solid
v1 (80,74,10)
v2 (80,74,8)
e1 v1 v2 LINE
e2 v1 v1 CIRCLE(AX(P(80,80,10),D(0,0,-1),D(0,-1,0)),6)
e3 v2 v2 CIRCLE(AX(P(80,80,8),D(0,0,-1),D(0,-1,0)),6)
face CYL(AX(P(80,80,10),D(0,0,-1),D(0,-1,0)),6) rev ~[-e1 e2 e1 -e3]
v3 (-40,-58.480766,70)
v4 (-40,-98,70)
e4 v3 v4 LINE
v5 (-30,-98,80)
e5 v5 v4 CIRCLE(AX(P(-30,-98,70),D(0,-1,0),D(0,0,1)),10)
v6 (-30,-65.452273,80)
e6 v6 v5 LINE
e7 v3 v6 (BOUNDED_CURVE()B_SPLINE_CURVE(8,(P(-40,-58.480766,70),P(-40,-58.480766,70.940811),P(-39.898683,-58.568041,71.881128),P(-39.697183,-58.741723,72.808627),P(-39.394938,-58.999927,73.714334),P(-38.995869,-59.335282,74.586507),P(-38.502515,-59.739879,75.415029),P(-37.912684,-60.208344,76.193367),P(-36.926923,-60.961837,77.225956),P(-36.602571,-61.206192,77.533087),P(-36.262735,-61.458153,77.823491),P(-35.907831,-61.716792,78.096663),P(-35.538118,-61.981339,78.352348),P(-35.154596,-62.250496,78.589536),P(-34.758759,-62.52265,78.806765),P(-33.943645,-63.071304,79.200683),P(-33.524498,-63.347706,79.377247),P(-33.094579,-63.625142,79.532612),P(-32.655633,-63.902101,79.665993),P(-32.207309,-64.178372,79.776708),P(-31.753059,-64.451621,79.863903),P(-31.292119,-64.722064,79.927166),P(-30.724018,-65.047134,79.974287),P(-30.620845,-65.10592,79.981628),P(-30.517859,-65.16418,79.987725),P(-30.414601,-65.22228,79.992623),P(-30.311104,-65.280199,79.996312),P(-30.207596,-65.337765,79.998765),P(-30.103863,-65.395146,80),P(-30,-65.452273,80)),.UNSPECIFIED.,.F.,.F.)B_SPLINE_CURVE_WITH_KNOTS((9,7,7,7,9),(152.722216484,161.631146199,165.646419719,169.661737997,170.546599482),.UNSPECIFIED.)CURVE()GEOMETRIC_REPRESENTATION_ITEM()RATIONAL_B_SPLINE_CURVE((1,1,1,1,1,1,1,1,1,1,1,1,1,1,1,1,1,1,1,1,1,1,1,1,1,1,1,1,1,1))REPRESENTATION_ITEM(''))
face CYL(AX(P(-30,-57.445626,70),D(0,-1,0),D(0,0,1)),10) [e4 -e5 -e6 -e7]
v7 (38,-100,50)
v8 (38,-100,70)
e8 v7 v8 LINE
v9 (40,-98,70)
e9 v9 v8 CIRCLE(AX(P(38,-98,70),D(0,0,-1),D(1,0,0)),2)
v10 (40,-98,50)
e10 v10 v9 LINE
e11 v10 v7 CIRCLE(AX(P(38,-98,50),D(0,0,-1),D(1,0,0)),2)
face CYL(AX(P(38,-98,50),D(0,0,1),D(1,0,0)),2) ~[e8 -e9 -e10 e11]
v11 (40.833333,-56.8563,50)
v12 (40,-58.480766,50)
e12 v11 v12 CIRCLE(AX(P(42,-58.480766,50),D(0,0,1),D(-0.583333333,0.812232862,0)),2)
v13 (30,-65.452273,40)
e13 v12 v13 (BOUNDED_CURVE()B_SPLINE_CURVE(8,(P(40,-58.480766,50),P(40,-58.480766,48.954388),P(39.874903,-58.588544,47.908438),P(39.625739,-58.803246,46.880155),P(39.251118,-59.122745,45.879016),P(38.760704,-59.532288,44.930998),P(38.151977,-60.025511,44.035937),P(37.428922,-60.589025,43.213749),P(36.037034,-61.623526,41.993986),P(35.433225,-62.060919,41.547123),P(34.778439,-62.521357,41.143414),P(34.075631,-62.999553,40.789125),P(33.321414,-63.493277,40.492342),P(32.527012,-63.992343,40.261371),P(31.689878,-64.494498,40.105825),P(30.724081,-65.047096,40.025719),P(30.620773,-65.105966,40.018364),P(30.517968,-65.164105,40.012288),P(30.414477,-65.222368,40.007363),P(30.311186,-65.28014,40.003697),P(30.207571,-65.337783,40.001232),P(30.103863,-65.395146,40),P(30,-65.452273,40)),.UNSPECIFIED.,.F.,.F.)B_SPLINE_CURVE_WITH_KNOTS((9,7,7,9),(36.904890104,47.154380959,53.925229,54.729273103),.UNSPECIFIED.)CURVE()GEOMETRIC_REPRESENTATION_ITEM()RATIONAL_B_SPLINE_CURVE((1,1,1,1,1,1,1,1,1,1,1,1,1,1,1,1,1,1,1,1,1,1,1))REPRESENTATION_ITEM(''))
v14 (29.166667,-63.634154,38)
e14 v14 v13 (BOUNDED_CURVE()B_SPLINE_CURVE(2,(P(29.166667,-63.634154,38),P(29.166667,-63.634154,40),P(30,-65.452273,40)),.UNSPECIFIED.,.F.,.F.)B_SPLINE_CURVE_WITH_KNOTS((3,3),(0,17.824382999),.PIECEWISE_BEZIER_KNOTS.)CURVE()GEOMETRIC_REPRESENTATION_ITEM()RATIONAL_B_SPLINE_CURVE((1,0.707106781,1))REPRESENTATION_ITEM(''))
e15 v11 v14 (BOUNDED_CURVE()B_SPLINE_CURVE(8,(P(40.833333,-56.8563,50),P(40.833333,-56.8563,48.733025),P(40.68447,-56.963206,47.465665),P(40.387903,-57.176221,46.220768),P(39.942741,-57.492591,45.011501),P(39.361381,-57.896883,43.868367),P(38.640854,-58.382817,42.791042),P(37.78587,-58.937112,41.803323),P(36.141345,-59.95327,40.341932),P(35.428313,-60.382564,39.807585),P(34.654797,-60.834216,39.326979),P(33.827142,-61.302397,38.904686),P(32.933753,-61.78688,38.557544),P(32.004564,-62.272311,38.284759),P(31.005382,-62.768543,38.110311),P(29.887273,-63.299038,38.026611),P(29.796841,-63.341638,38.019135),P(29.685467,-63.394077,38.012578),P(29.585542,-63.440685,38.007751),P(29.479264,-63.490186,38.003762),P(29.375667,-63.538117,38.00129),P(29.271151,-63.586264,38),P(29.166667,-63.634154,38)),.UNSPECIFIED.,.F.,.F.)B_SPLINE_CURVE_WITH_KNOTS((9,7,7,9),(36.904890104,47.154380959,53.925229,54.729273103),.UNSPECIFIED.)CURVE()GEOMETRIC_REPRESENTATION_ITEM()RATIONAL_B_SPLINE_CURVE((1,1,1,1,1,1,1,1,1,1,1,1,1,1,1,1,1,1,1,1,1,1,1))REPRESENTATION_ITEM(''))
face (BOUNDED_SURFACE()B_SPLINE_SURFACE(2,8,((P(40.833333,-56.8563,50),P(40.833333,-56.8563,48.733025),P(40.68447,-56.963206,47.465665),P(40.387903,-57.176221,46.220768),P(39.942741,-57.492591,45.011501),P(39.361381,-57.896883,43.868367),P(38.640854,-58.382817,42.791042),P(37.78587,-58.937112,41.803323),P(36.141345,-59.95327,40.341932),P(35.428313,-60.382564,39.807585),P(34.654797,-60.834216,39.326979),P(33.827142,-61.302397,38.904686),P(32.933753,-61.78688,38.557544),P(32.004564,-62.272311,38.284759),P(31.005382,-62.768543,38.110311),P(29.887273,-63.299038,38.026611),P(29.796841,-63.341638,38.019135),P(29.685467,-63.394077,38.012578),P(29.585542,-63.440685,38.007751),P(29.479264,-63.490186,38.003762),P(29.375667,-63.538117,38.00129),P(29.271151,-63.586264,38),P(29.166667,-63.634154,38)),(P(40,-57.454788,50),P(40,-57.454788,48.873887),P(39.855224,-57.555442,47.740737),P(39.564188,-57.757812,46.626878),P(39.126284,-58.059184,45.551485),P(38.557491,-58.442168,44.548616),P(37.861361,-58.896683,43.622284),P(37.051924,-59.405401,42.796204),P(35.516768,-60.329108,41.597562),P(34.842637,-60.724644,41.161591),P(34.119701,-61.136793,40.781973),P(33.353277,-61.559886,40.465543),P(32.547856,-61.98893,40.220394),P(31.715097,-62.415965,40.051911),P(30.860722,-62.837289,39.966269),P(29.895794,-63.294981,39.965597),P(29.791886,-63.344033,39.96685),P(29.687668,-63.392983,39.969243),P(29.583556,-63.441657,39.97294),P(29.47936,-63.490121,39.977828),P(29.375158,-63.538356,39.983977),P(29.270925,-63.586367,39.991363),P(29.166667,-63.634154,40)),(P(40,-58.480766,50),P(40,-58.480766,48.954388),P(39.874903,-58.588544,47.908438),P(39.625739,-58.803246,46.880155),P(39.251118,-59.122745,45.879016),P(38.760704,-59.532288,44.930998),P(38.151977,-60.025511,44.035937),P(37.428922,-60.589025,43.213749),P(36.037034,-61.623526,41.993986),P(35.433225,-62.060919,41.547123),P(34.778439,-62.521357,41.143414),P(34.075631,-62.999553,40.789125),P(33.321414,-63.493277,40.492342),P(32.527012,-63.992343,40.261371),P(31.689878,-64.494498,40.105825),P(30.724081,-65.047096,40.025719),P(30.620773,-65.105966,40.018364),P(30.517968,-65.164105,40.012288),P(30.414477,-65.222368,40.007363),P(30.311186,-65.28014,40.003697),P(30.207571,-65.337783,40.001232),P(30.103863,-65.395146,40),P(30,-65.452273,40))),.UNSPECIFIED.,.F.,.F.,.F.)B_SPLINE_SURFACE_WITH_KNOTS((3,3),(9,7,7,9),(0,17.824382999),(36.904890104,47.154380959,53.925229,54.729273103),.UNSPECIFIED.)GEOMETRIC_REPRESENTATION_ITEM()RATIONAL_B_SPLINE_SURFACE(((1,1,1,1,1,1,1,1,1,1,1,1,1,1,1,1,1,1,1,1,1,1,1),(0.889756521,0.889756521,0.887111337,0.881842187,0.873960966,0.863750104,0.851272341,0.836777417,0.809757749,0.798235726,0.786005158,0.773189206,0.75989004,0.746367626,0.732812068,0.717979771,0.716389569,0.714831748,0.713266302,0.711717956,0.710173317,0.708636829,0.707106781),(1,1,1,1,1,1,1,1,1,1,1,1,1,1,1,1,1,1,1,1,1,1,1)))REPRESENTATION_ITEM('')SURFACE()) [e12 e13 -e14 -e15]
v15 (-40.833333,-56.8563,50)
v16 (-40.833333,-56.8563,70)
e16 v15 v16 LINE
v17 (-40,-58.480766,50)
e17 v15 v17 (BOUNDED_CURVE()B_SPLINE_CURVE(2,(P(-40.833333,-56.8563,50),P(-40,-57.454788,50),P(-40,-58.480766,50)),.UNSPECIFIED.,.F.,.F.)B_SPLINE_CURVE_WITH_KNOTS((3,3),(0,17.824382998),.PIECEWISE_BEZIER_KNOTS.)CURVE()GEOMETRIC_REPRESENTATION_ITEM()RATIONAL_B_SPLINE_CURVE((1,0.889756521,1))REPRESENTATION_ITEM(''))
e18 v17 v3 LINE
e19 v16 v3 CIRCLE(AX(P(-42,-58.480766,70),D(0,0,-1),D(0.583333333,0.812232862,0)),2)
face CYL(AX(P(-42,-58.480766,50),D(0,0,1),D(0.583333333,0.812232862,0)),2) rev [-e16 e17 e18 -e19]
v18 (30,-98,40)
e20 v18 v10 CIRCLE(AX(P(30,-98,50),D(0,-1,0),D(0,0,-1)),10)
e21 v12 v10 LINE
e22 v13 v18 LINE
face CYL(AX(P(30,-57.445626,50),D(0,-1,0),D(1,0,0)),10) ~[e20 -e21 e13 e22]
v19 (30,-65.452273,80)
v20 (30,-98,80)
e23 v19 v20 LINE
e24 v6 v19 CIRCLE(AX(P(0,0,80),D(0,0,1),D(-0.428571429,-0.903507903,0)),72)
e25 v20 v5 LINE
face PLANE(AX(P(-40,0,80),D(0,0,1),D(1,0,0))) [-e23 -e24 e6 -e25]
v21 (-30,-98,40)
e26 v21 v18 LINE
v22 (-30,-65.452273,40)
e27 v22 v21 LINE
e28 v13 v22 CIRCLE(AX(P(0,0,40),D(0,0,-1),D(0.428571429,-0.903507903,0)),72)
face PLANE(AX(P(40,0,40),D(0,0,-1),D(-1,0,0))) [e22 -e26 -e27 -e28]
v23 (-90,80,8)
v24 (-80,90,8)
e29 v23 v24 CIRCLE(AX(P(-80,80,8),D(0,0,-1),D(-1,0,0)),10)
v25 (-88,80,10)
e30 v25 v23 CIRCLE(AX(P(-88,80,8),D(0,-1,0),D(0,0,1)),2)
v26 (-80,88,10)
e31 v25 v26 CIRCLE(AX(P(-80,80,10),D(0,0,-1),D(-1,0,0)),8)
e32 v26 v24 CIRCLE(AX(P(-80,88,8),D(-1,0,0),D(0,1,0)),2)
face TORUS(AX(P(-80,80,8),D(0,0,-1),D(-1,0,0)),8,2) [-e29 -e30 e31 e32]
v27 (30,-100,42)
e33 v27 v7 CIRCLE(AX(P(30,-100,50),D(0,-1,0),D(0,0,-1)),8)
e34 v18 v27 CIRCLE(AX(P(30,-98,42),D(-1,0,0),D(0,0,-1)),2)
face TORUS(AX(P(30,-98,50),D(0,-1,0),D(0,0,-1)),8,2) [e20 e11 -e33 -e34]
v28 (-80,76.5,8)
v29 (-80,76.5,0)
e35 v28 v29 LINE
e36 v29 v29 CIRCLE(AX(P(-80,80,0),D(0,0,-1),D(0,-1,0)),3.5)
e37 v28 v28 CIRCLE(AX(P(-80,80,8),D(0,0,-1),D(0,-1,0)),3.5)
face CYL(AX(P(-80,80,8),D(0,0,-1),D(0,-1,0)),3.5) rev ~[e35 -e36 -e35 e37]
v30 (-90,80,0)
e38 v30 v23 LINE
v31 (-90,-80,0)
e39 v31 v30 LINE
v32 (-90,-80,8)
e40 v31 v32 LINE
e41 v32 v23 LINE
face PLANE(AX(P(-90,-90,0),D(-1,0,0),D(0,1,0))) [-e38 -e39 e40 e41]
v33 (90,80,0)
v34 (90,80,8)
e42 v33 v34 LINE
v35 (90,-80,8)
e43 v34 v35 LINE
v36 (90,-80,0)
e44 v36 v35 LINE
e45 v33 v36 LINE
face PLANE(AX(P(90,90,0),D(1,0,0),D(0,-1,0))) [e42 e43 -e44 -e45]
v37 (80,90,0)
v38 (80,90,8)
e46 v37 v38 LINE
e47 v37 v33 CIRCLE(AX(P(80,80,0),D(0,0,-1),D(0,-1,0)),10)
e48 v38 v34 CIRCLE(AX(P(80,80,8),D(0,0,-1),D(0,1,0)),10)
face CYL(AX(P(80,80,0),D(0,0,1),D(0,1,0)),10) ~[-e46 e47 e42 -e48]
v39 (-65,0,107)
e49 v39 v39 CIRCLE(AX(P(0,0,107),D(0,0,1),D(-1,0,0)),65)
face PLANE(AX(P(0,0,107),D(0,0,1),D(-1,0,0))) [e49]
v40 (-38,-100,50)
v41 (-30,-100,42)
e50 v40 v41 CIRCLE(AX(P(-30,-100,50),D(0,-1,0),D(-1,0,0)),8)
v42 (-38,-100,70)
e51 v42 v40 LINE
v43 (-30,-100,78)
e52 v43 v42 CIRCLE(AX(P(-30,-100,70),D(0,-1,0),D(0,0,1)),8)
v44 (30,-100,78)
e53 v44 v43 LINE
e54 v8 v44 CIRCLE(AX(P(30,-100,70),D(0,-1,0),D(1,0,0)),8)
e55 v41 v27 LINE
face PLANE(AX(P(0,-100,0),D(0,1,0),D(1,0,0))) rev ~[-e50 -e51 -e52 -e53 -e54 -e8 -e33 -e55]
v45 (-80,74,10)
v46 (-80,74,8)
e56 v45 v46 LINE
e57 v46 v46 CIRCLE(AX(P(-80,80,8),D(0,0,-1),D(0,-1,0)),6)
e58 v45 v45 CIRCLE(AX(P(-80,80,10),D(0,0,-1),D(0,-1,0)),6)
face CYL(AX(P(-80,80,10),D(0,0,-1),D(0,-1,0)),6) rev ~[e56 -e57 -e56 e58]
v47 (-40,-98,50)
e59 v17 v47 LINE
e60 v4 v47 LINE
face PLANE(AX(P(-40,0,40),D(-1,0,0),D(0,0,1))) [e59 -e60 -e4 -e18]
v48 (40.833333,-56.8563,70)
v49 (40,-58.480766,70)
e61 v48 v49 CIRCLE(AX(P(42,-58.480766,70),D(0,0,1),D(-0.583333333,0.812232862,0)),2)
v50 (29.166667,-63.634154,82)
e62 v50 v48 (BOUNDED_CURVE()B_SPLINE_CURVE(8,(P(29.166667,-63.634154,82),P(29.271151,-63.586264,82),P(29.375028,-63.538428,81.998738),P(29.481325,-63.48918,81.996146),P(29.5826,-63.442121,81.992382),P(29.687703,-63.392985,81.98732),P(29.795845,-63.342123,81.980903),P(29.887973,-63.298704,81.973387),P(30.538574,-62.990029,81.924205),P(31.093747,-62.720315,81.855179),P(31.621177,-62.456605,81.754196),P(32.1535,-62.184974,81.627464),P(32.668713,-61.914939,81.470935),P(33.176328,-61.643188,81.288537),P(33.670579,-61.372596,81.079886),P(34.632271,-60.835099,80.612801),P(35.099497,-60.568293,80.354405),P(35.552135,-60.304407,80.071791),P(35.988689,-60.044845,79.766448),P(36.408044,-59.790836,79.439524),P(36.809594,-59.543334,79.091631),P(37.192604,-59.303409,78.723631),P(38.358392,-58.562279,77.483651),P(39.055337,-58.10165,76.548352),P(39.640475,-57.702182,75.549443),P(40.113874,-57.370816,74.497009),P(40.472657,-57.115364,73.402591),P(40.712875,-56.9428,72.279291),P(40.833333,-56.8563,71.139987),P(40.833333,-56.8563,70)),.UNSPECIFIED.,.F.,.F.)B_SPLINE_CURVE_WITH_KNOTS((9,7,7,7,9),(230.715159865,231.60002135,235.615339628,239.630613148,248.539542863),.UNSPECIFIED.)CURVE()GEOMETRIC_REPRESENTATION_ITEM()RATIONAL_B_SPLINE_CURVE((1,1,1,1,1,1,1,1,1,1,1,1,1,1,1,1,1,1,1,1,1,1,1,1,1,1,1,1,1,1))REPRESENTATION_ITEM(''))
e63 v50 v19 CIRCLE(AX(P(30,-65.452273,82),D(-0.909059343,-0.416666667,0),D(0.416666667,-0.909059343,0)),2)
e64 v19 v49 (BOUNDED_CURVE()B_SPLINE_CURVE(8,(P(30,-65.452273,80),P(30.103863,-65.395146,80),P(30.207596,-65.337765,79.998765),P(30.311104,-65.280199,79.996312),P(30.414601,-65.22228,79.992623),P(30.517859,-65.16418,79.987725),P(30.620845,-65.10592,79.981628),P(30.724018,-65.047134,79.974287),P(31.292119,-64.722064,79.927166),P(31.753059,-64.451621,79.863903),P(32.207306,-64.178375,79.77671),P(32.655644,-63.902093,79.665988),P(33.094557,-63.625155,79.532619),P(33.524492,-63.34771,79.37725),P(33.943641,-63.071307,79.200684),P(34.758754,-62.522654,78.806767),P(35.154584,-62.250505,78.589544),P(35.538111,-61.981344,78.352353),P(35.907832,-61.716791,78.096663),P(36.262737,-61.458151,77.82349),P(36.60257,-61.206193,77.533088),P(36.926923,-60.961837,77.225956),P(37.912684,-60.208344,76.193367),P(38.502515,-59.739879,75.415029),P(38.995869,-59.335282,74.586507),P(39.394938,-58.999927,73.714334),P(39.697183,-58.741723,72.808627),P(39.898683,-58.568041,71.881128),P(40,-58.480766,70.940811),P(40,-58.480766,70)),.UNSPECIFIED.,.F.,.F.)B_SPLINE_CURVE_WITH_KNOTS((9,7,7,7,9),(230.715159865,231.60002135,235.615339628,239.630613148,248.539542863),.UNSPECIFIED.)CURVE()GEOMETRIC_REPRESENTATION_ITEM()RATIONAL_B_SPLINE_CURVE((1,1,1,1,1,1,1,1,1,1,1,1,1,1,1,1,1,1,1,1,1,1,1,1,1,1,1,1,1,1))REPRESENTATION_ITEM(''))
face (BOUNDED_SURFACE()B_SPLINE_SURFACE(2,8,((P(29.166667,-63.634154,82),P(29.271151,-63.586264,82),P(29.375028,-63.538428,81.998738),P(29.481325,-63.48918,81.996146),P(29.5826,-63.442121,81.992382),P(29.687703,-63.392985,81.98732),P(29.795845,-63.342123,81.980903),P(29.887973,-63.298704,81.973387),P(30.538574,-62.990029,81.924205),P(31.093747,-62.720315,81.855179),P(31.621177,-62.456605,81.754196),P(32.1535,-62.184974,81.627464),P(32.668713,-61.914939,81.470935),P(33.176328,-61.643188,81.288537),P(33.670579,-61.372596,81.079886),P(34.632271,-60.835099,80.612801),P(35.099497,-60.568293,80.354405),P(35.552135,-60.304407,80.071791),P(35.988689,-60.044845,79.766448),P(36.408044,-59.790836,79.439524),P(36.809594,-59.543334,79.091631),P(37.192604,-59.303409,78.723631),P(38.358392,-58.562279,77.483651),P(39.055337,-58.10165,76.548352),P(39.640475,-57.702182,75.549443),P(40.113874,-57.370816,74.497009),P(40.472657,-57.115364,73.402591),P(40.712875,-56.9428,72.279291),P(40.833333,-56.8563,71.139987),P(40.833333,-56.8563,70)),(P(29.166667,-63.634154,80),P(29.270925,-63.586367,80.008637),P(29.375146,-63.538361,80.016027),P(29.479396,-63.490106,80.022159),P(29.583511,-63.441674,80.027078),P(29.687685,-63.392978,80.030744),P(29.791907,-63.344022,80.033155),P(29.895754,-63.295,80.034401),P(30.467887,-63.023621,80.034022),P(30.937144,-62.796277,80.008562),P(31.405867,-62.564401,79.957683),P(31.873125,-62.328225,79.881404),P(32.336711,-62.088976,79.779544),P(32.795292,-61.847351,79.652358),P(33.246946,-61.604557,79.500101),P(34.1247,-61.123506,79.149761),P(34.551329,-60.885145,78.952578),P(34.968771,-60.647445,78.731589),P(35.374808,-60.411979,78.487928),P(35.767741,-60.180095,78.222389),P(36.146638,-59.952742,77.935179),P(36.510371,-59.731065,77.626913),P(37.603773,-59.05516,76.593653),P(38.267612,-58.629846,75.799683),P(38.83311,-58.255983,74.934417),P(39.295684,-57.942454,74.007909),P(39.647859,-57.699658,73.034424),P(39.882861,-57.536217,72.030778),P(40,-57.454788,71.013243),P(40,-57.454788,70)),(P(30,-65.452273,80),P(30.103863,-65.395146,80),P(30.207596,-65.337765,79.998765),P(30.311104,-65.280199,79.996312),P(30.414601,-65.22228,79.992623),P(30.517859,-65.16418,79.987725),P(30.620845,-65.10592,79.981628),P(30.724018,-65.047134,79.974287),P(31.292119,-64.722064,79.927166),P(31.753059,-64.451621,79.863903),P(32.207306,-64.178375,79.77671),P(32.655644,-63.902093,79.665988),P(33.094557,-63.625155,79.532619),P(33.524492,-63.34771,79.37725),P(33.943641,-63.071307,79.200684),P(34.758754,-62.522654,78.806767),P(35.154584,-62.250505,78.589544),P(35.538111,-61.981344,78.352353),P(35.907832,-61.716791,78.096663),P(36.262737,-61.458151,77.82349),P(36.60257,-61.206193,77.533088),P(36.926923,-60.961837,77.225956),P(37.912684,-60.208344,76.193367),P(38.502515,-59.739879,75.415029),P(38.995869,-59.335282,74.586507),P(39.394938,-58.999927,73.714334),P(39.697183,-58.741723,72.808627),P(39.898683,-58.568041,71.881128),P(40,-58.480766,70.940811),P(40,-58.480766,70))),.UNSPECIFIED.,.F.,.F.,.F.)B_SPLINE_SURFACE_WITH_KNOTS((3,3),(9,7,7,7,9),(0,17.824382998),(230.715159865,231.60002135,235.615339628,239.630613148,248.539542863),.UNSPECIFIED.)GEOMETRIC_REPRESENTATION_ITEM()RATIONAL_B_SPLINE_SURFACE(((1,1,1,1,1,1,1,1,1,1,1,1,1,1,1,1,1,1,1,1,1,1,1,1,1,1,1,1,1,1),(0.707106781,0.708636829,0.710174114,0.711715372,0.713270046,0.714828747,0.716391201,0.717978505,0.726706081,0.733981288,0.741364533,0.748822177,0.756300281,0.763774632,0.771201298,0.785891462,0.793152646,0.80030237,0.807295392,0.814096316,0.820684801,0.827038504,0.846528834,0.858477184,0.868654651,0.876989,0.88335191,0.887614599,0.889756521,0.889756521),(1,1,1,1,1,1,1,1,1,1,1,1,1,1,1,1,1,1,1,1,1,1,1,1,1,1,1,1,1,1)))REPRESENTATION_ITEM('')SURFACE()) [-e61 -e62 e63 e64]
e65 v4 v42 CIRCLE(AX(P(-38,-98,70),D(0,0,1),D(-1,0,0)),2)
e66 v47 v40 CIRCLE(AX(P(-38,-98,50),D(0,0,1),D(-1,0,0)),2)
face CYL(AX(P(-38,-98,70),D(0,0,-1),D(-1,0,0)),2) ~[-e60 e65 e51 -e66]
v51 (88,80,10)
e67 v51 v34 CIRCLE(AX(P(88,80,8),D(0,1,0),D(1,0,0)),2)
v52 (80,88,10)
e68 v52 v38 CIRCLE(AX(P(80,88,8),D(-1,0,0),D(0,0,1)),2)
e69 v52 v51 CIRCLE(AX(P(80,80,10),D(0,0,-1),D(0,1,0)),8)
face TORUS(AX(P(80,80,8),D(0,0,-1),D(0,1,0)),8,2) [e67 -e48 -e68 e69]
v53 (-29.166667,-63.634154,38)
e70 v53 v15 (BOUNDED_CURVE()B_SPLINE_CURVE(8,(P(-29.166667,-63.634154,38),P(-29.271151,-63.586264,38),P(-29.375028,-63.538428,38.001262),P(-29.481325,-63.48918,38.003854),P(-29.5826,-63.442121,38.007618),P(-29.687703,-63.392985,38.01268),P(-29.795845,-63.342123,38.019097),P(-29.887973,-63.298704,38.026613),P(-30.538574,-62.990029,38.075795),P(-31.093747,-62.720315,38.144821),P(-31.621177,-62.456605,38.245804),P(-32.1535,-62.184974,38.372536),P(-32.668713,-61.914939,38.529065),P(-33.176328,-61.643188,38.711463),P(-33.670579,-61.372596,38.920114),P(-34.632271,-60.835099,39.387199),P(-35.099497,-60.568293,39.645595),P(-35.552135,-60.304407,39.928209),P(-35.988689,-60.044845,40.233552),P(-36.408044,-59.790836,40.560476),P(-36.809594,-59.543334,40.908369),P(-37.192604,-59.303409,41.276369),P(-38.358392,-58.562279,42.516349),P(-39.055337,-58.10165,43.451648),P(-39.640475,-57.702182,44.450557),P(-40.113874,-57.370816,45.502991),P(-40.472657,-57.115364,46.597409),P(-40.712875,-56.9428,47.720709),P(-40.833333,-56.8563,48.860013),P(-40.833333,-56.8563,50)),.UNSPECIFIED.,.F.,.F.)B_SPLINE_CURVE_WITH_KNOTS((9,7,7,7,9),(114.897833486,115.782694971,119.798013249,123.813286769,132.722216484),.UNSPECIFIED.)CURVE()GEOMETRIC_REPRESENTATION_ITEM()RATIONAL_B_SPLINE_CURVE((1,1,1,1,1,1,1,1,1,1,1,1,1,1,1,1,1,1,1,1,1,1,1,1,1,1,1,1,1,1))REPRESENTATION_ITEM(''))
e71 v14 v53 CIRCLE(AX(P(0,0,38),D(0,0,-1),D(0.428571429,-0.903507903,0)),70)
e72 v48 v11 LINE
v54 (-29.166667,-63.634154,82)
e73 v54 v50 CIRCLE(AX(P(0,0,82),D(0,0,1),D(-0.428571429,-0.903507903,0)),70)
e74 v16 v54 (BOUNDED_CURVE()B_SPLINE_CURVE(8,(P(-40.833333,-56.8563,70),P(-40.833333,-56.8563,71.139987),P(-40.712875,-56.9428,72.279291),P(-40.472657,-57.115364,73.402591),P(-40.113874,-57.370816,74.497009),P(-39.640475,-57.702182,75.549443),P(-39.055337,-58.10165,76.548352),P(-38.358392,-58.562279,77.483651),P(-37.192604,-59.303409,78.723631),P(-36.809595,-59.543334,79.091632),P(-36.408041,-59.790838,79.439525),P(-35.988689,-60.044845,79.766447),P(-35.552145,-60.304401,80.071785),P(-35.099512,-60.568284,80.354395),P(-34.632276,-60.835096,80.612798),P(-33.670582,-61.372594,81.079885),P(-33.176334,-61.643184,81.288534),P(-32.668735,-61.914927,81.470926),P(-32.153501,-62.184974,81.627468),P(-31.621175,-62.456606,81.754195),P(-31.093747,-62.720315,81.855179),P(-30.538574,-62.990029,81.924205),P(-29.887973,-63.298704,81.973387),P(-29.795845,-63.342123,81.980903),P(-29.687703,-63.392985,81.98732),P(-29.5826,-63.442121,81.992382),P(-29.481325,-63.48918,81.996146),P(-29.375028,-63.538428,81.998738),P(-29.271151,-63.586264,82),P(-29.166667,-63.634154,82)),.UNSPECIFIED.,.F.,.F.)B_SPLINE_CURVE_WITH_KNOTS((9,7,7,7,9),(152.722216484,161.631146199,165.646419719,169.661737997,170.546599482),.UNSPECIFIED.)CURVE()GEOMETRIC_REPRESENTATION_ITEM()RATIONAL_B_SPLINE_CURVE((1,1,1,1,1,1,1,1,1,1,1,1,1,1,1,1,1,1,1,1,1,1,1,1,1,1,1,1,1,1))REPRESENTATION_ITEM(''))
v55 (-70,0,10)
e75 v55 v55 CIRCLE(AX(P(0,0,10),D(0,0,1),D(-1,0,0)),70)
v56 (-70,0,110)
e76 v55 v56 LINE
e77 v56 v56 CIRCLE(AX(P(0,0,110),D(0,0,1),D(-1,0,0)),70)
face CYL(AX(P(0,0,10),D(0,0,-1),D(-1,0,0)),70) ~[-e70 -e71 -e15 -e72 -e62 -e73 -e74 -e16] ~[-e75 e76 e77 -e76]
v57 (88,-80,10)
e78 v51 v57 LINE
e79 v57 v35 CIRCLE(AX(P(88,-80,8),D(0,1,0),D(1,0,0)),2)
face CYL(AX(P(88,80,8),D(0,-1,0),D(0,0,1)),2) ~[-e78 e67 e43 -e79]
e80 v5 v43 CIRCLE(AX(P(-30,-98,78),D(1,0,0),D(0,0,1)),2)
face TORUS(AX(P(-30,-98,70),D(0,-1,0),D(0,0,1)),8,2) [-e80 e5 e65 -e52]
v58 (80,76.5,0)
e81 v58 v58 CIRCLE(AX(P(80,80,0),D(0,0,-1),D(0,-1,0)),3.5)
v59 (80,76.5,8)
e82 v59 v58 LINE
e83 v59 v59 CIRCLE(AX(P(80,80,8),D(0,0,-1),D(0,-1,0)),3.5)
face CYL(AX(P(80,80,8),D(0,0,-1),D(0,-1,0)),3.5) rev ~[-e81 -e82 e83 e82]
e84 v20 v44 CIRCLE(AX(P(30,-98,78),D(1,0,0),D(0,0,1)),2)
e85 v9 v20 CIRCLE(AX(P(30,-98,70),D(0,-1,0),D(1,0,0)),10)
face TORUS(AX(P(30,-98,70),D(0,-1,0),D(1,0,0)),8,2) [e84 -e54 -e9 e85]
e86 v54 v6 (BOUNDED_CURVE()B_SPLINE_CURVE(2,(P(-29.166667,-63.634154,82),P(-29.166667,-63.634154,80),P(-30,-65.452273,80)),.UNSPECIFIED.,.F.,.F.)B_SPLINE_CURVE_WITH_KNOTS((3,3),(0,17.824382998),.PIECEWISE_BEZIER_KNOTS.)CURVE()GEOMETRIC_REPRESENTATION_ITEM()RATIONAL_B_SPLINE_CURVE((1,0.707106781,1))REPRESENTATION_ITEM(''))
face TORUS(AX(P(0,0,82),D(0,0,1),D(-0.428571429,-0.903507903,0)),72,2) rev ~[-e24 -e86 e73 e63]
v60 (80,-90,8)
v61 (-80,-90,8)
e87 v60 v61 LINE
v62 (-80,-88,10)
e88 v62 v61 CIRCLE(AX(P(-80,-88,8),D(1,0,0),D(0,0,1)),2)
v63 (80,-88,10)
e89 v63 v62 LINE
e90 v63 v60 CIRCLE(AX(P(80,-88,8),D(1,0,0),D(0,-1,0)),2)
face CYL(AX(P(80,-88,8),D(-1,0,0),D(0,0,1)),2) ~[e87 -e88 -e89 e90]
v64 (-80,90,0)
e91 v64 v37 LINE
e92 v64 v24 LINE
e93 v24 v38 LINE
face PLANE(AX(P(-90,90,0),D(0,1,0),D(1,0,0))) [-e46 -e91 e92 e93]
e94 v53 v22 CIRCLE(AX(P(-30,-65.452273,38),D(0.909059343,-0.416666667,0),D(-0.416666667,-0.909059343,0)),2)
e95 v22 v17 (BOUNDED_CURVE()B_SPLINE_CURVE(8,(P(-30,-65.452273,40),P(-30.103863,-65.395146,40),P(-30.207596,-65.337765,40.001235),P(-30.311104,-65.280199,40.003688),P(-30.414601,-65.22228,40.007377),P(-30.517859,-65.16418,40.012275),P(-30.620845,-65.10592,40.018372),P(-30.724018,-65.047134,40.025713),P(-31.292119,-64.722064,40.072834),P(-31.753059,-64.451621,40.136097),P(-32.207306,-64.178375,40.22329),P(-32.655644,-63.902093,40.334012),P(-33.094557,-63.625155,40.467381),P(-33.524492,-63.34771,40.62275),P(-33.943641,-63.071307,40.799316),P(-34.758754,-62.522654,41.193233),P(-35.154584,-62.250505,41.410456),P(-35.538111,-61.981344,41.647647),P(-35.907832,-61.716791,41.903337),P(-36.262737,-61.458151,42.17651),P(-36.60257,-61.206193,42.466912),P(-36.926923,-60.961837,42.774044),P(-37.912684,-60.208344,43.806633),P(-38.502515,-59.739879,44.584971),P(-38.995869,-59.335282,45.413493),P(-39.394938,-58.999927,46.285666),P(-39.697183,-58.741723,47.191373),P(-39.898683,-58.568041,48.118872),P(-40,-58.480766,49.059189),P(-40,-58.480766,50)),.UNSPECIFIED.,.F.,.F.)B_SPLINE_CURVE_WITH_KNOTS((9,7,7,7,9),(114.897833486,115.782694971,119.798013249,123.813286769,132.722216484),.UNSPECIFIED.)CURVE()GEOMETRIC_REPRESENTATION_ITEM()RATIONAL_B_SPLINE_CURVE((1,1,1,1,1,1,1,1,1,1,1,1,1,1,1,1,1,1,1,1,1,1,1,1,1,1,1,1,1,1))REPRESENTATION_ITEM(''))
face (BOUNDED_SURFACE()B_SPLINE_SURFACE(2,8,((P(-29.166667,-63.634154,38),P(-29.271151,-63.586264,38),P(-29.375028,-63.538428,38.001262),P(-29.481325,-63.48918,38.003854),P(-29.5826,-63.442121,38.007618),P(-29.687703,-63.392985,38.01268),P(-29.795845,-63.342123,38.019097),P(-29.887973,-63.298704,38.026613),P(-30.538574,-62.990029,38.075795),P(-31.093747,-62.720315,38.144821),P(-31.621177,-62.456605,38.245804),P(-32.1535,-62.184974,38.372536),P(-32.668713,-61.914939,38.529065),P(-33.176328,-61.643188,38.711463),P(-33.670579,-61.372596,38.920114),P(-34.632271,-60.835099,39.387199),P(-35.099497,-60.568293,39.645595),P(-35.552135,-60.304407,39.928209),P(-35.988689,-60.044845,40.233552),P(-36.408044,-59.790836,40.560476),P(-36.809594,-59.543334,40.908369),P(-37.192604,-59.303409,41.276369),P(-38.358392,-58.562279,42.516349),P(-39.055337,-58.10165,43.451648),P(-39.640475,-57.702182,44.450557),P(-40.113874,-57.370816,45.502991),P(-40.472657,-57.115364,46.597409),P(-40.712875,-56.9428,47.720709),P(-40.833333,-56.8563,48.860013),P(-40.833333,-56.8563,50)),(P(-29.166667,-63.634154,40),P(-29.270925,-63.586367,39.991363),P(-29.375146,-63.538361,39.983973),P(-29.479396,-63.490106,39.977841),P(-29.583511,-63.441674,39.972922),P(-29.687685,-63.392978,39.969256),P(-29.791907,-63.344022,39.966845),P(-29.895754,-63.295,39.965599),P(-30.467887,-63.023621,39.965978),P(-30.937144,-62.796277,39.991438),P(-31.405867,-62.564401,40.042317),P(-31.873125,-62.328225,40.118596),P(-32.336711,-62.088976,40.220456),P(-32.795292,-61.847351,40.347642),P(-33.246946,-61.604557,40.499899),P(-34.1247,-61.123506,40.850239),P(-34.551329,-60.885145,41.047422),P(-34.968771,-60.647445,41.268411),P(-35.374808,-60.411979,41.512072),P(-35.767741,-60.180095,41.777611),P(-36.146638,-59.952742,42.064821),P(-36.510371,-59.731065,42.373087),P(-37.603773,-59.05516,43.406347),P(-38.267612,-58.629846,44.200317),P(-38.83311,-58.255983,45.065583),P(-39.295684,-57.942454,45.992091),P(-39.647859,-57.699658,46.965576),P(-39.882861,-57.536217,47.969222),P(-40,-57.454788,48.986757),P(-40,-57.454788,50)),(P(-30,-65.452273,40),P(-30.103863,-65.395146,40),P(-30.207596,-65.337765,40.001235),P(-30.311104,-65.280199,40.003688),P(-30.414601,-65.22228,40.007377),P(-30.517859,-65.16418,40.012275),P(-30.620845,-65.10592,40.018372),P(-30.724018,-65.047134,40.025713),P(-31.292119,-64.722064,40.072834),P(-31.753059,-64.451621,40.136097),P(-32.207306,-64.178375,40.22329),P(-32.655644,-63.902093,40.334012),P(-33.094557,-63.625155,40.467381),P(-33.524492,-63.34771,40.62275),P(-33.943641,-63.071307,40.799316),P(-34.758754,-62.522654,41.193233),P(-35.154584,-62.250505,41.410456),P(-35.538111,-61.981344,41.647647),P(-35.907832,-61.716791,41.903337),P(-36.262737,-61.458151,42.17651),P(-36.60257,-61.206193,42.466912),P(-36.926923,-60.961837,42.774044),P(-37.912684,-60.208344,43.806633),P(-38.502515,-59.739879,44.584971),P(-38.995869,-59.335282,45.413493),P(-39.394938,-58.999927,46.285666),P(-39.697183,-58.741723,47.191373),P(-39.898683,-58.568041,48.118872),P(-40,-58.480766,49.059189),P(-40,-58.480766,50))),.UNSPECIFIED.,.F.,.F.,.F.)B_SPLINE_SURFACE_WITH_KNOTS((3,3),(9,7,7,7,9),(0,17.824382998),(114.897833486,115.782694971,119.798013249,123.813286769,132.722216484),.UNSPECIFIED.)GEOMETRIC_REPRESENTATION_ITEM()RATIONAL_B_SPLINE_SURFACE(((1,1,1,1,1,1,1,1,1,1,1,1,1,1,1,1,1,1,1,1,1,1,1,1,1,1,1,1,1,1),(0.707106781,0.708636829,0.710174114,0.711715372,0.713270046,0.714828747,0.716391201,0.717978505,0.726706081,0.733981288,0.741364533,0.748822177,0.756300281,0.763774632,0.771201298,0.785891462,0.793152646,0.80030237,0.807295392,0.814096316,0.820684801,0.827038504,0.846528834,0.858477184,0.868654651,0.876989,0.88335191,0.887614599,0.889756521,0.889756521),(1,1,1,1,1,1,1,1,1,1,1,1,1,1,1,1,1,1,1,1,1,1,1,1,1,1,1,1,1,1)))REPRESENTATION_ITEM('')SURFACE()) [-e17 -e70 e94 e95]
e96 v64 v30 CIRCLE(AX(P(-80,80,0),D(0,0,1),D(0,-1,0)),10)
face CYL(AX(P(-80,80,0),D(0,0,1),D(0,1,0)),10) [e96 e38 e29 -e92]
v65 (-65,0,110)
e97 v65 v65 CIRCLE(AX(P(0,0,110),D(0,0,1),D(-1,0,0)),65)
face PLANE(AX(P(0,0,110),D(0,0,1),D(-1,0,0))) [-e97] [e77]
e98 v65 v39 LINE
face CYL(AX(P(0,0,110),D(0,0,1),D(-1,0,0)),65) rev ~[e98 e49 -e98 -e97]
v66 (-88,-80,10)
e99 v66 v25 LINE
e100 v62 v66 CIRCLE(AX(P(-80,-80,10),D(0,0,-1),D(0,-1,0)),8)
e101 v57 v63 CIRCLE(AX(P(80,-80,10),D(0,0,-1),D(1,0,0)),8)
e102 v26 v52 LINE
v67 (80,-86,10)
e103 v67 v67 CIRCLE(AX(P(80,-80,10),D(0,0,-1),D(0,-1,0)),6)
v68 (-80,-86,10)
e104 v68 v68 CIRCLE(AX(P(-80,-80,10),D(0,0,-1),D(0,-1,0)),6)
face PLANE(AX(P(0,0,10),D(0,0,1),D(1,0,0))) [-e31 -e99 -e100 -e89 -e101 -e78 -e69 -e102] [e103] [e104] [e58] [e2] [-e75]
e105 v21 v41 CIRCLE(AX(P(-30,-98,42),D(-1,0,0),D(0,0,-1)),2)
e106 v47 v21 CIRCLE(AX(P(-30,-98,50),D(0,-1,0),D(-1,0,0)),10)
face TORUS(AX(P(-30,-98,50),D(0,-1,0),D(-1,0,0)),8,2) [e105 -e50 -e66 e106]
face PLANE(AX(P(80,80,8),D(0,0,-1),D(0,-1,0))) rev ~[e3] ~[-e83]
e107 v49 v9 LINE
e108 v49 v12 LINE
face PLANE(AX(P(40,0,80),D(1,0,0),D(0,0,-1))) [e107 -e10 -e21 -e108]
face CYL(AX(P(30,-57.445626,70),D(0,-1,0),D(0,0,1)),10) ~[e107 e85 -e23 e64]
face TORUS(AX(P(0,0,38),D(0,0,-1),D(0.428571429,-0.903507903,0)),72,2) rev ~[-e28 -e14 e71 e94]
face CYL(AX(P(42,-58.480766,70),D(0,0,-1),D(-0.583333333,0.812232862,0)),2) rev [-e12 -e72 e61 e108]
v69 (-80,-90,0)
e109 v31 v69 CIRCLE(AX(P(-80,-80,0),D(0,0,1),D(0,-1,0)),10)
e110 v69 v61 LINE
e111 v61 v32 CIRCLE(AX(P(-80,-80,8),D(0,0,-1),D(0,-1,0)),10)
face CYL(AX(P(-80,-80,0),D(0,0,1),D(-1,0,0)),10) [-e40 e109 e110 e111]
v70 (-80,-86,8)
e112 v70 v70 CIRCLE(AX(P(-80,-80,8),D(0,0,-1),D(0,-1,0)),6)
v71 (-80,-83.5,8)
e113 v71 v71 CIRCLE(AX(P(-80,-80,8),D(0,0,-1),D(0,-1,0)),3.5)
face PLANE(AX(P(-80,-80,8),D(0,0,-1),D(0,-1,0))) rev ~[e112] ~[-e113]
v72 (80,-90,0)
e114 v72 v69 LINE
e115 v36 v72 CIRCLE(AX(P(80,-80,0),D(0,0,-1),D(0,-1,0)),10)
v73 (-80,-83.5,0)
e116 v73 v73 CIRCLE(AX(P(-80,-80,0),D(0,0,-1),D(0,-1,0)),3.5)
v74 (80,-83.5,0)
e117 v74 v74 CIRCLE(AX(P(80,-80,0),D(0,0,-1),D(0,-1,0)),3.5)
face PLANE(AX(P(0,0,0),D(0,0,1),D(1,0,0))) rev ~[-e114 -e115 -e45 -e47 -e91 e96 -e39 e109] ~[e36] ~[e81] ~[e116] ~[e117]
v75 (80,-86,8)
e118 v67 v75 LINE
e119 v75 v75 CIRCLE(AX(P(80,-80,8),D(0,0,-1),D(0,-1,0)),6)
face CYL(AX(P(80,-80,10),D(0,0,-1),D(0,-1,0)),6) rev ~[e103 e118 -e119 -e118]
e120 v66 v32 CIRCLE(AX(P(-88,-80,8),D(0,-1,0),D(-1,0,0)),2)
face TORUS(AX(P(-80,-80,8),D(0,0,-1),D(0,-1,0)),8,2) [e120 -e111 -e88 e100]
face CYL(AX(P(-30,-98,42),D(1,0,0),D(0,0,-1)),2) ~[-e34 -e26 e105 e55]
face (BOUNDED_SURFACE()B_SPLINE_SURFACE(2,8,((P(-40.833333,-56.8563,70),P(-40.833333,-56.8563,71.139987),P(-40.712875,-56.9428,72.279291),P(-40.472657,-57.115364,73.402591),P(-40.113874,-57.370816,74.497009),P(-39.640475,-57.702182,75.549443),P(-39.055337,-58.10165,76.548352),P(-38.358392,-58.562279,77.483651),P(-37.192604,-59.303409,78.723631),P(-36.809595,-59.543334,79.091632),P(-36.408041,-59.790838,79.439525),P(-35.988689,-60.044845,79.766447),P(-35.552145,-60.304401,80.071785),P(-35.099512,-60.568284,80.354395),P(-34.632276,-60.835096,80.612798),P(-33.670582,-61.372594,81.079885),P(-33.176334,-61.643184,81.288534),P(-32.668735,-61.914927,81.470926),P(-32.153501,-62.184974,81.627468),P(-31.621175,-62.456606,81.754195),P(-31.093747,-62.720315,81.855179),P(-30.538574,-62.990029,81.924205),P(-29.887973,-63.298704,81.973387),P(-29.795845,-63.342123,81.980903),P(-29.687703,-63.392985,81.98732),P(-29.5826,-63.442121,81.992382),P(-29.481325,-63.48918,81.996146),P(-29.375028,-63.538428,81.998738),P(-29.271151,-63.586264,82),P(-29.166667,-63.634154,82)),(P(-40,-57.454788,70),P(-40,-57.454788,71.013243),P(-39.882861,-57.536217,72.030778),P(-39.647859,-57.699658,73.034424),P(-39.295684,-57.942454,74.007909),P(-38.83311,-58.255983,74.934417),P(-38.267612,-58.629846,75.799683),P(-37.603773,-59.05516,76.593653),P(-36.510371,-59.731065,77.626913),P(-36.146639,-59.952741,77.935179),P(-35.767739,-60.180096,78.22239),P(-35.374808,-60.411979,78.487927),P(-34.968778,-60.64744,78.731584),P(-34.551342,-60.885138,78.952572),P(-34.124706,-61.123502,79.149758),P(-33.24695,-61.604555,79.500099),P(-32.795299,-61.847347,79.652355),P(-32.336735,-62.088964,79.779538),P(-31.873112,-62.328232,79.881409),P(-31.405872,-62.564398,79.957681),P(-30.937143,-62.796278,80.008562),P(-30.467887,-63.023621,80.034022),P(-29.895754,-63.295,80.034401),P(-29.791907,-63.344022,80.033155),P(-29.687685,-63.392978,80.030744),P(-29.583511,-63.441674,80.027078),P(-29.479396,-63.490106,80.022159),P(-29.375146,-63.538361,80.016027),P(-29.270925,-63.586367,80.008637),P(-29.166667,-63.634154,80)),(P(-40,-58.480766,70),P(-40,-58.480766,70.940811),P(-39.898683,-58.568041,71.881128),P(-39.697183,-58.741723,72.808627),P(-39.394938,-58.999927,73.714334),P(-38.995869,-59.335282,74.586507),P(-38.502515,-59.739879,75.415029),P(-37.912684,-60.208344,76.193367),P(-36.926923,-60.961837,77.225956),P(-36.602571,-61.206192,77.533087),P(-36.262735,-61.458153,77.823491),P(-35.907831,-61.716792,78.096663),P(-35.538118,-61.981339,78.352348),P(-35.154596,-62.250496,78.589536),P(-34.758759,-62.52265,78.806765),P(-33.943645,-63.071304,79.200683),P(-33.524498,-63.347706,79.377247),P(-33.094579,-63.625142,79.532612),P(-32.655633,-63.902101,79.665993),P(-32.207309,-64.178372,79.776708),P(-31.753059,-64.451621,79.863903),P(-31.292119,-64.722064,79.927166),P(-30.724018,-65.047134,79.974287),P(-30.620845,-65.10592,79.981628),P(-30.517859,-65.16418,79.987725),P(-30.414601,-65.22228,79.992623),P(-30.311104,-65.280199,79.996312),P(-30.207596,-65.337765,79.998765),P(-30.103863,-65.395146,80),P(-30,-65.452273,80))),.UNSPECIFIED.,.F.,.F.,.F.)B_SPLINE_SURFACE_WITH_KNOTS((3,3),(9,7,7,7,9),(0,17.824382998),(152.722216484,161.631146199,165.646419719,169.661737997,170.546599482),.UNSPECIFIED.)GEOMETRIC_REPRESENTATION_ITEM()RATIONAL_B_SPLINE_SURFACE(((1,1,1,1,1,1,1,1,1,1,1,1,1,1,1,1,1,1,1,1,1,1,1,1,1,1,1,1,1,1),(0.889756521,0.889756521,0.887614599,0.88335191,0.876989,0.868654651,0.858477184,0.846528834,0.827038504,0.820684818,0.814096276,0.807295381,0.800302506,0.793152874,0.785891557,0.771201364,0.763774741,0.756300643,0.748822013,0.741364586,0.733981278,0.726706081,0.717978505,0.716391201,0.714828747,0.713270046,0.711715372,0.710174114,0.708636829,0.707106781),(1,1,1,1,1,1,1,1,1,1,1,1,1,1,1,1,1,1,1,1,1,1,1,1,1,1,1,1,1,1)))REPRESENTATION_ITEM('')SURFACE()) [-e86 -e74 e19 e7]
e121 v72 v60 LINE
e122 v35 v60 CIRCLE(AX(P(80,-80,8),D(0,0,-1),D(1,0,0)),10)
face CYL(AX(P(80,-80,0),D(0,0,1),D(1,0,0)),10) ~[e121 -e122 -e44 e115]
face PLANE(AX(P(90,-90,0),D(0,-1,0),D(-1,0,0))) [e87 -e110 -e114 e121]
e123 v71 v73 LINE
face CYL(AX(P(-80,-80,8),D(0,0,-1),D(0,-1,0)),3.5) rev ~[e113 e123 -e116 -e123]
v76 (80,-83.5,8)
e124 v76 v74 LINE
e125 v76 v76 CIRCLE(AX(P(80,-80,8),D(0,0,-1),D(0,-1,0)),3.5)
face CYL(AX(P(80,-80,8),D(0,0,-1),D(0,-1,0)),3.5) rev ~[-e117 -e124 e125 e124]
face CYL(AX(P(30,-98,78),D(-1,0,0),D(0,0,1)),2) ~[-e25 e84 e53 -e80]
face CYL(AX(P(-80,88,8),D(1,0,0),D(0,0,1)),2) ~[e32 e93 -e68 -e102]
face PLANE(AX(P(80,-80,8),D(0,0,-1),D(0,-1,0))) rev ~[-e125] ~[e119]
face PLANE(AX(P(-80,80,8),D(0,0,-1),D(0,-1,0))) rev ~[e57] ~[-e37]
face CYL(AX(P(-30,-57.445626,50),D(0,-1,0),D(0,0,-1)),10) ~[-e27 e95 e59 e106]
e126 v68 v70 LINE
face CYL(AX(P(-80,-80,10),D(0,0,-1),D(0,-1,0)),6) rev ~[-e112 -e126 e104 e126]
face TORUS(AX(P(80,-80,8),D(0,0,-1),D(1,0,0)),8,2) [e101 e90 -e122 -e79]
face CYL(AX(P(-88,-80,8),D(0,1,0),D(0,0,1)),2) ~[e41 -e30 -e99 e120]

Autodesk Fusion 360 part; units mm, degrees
sketch "Sketch1" plane through (0, 0, 0) normal (0, 0, 1) x (1, 0, 0)
  line L0 (-90, 90) -> (90, 90)
  line L1 (90, 90) -> (90, -90)
  line L2 (90, -90) -> (-90, -90)
  line L3 (-90, -90) -> (-90, 90)
  line L4 (-90, 90) -> (90, -90) construction
  line L5 (90, 90) -> (-90, -90) construction
  dimension "d1" = 180
  dimension "d2" = 180
extrude "Extrude1" add sketch "Sketch1" along normal blind 10
sketch "Sketch2" plane through (0, 0, 10) normal (0, 0, 1) x (-1, 0, 0)
  line L0 (90, 90) -> (-90, 90)
  line L1 (-90, 90) -> (-90, -90)
  line L2 (-90, -90) -> (90, -90)
  line L3 (90, -90) -> (90, 90)
  circle A0 centre (0, 0) radius 70
  dimension "d5" = 140
extrude "Extrude2" add sketch "Sketch2" along normal blind 100 contours A0
sketch "Sketch3" plane through (0, 0, 0) normal (0, 1, 0) x (1, 0, 0)
  line L0 (-40, -80) -> (40, -80)
  line L1 (40, -80) -> (40, -40)
  line L2 (40, -40) -> (-40, -40)
  line L3 (-40, -40) -> (-40, -80)
  line L4 (-40, -80) -> (40, -40) construction
  line L5 (40, -80) -> (-40, -40) construction
  point P0 (0, -60)
  dimension "d13" = 40
  dimension "d14" = 80
  dimension "d16" = 60
extrude "Extrude3" add sketch "Sketch3" against normal blind 100
sketch "Sketch4" plane through (0, 0, 110) normal (0, 0, 1) x (-1, 0, 0)
  circle A0 centre (0, 0) radius 70
  circle A1 centre (0, 0) radius 65
  dimension "d10" = -5
extrude "Extrude4" cut sketch "Sketch4" against normal blind 10 contours A1
extrude "Extrude5" add 1 faces at (2.3225, -16.9397, 100) along direction (0, 0, 1) blind 7
sketch "Sketch5" plane through (0, 0, 10) normal (0, 0, 1) x (-1, 0, 0)
  circle A0 centre (0, 0) radius 70
  line L0 (90, 90) -> (-90, 90)
  line L1 (-90, 90) -> (-90, -90)
  line L2 (-90, -90) -> (90, -90)
  line L3 (90, -90) -> (90, 90)
  point P0 (80, -80)
  point P1 (-80, -80)
  point P2 (-80, 80)
  point P3 (80, 80)
  point P4 (116.0582, 65.2033)
  dimension "d19" = 10
  dimension "d20" = 10
  dimension "d21" = 10
  dimension "d22" = 10
  dimension "d23" = 10
  dimension "d24" = 10
  dimension "d25" = 10
  dimension "d26" = 10
hole "Hole1" at (-80, -80, 10) at (80, -80, 10) at (80, 80, 10) at (-80, 80, 10) direction (0, 0, -1) diameter 7 depth 15 tip angle 118 counterbore diameter 12 counterbore depth 2
fillet "Fillet1" radius 10 8 edges at (-90, -90, 5) (90, -90, 5) (90, 90, 5) (-90, 90, 5) (40, -78.7228, 80) (40, -78.7228, 40) (-40, -78.7228, 80) (-40, -78.7228, 40)
fillet "Fillet2" radius 2 24 edges at (87.0711, -87.0711, 10) (90, 0, 10) (87.0711, 87.0711, 10) (0, 90, 10) (-87.0711, 87.0711, 10) (-90, 0, 10) (-87.0711, -87.0711, 10) (0, -90, 10) (-37.0711, -100, 77.0711) (-40, -100, 60) (-37.0711, -100, 42.9289) (0, -100, 40) (37.0711, -100, 42.9289) (40, -100, 60) (37.0711, -100, 77.0711) (0, -100, 80) (36.9012, -59.4835, 77.2363) (40, -57.4456, 60) (36.9012, -59.4835, 42.7637) (0, -70, 40) (-36.9012, -59.4835, 42.7637) (-40, -57.4456, 60) (-36.9012, -59.4835, 77.2363) (0, -70, 80)
